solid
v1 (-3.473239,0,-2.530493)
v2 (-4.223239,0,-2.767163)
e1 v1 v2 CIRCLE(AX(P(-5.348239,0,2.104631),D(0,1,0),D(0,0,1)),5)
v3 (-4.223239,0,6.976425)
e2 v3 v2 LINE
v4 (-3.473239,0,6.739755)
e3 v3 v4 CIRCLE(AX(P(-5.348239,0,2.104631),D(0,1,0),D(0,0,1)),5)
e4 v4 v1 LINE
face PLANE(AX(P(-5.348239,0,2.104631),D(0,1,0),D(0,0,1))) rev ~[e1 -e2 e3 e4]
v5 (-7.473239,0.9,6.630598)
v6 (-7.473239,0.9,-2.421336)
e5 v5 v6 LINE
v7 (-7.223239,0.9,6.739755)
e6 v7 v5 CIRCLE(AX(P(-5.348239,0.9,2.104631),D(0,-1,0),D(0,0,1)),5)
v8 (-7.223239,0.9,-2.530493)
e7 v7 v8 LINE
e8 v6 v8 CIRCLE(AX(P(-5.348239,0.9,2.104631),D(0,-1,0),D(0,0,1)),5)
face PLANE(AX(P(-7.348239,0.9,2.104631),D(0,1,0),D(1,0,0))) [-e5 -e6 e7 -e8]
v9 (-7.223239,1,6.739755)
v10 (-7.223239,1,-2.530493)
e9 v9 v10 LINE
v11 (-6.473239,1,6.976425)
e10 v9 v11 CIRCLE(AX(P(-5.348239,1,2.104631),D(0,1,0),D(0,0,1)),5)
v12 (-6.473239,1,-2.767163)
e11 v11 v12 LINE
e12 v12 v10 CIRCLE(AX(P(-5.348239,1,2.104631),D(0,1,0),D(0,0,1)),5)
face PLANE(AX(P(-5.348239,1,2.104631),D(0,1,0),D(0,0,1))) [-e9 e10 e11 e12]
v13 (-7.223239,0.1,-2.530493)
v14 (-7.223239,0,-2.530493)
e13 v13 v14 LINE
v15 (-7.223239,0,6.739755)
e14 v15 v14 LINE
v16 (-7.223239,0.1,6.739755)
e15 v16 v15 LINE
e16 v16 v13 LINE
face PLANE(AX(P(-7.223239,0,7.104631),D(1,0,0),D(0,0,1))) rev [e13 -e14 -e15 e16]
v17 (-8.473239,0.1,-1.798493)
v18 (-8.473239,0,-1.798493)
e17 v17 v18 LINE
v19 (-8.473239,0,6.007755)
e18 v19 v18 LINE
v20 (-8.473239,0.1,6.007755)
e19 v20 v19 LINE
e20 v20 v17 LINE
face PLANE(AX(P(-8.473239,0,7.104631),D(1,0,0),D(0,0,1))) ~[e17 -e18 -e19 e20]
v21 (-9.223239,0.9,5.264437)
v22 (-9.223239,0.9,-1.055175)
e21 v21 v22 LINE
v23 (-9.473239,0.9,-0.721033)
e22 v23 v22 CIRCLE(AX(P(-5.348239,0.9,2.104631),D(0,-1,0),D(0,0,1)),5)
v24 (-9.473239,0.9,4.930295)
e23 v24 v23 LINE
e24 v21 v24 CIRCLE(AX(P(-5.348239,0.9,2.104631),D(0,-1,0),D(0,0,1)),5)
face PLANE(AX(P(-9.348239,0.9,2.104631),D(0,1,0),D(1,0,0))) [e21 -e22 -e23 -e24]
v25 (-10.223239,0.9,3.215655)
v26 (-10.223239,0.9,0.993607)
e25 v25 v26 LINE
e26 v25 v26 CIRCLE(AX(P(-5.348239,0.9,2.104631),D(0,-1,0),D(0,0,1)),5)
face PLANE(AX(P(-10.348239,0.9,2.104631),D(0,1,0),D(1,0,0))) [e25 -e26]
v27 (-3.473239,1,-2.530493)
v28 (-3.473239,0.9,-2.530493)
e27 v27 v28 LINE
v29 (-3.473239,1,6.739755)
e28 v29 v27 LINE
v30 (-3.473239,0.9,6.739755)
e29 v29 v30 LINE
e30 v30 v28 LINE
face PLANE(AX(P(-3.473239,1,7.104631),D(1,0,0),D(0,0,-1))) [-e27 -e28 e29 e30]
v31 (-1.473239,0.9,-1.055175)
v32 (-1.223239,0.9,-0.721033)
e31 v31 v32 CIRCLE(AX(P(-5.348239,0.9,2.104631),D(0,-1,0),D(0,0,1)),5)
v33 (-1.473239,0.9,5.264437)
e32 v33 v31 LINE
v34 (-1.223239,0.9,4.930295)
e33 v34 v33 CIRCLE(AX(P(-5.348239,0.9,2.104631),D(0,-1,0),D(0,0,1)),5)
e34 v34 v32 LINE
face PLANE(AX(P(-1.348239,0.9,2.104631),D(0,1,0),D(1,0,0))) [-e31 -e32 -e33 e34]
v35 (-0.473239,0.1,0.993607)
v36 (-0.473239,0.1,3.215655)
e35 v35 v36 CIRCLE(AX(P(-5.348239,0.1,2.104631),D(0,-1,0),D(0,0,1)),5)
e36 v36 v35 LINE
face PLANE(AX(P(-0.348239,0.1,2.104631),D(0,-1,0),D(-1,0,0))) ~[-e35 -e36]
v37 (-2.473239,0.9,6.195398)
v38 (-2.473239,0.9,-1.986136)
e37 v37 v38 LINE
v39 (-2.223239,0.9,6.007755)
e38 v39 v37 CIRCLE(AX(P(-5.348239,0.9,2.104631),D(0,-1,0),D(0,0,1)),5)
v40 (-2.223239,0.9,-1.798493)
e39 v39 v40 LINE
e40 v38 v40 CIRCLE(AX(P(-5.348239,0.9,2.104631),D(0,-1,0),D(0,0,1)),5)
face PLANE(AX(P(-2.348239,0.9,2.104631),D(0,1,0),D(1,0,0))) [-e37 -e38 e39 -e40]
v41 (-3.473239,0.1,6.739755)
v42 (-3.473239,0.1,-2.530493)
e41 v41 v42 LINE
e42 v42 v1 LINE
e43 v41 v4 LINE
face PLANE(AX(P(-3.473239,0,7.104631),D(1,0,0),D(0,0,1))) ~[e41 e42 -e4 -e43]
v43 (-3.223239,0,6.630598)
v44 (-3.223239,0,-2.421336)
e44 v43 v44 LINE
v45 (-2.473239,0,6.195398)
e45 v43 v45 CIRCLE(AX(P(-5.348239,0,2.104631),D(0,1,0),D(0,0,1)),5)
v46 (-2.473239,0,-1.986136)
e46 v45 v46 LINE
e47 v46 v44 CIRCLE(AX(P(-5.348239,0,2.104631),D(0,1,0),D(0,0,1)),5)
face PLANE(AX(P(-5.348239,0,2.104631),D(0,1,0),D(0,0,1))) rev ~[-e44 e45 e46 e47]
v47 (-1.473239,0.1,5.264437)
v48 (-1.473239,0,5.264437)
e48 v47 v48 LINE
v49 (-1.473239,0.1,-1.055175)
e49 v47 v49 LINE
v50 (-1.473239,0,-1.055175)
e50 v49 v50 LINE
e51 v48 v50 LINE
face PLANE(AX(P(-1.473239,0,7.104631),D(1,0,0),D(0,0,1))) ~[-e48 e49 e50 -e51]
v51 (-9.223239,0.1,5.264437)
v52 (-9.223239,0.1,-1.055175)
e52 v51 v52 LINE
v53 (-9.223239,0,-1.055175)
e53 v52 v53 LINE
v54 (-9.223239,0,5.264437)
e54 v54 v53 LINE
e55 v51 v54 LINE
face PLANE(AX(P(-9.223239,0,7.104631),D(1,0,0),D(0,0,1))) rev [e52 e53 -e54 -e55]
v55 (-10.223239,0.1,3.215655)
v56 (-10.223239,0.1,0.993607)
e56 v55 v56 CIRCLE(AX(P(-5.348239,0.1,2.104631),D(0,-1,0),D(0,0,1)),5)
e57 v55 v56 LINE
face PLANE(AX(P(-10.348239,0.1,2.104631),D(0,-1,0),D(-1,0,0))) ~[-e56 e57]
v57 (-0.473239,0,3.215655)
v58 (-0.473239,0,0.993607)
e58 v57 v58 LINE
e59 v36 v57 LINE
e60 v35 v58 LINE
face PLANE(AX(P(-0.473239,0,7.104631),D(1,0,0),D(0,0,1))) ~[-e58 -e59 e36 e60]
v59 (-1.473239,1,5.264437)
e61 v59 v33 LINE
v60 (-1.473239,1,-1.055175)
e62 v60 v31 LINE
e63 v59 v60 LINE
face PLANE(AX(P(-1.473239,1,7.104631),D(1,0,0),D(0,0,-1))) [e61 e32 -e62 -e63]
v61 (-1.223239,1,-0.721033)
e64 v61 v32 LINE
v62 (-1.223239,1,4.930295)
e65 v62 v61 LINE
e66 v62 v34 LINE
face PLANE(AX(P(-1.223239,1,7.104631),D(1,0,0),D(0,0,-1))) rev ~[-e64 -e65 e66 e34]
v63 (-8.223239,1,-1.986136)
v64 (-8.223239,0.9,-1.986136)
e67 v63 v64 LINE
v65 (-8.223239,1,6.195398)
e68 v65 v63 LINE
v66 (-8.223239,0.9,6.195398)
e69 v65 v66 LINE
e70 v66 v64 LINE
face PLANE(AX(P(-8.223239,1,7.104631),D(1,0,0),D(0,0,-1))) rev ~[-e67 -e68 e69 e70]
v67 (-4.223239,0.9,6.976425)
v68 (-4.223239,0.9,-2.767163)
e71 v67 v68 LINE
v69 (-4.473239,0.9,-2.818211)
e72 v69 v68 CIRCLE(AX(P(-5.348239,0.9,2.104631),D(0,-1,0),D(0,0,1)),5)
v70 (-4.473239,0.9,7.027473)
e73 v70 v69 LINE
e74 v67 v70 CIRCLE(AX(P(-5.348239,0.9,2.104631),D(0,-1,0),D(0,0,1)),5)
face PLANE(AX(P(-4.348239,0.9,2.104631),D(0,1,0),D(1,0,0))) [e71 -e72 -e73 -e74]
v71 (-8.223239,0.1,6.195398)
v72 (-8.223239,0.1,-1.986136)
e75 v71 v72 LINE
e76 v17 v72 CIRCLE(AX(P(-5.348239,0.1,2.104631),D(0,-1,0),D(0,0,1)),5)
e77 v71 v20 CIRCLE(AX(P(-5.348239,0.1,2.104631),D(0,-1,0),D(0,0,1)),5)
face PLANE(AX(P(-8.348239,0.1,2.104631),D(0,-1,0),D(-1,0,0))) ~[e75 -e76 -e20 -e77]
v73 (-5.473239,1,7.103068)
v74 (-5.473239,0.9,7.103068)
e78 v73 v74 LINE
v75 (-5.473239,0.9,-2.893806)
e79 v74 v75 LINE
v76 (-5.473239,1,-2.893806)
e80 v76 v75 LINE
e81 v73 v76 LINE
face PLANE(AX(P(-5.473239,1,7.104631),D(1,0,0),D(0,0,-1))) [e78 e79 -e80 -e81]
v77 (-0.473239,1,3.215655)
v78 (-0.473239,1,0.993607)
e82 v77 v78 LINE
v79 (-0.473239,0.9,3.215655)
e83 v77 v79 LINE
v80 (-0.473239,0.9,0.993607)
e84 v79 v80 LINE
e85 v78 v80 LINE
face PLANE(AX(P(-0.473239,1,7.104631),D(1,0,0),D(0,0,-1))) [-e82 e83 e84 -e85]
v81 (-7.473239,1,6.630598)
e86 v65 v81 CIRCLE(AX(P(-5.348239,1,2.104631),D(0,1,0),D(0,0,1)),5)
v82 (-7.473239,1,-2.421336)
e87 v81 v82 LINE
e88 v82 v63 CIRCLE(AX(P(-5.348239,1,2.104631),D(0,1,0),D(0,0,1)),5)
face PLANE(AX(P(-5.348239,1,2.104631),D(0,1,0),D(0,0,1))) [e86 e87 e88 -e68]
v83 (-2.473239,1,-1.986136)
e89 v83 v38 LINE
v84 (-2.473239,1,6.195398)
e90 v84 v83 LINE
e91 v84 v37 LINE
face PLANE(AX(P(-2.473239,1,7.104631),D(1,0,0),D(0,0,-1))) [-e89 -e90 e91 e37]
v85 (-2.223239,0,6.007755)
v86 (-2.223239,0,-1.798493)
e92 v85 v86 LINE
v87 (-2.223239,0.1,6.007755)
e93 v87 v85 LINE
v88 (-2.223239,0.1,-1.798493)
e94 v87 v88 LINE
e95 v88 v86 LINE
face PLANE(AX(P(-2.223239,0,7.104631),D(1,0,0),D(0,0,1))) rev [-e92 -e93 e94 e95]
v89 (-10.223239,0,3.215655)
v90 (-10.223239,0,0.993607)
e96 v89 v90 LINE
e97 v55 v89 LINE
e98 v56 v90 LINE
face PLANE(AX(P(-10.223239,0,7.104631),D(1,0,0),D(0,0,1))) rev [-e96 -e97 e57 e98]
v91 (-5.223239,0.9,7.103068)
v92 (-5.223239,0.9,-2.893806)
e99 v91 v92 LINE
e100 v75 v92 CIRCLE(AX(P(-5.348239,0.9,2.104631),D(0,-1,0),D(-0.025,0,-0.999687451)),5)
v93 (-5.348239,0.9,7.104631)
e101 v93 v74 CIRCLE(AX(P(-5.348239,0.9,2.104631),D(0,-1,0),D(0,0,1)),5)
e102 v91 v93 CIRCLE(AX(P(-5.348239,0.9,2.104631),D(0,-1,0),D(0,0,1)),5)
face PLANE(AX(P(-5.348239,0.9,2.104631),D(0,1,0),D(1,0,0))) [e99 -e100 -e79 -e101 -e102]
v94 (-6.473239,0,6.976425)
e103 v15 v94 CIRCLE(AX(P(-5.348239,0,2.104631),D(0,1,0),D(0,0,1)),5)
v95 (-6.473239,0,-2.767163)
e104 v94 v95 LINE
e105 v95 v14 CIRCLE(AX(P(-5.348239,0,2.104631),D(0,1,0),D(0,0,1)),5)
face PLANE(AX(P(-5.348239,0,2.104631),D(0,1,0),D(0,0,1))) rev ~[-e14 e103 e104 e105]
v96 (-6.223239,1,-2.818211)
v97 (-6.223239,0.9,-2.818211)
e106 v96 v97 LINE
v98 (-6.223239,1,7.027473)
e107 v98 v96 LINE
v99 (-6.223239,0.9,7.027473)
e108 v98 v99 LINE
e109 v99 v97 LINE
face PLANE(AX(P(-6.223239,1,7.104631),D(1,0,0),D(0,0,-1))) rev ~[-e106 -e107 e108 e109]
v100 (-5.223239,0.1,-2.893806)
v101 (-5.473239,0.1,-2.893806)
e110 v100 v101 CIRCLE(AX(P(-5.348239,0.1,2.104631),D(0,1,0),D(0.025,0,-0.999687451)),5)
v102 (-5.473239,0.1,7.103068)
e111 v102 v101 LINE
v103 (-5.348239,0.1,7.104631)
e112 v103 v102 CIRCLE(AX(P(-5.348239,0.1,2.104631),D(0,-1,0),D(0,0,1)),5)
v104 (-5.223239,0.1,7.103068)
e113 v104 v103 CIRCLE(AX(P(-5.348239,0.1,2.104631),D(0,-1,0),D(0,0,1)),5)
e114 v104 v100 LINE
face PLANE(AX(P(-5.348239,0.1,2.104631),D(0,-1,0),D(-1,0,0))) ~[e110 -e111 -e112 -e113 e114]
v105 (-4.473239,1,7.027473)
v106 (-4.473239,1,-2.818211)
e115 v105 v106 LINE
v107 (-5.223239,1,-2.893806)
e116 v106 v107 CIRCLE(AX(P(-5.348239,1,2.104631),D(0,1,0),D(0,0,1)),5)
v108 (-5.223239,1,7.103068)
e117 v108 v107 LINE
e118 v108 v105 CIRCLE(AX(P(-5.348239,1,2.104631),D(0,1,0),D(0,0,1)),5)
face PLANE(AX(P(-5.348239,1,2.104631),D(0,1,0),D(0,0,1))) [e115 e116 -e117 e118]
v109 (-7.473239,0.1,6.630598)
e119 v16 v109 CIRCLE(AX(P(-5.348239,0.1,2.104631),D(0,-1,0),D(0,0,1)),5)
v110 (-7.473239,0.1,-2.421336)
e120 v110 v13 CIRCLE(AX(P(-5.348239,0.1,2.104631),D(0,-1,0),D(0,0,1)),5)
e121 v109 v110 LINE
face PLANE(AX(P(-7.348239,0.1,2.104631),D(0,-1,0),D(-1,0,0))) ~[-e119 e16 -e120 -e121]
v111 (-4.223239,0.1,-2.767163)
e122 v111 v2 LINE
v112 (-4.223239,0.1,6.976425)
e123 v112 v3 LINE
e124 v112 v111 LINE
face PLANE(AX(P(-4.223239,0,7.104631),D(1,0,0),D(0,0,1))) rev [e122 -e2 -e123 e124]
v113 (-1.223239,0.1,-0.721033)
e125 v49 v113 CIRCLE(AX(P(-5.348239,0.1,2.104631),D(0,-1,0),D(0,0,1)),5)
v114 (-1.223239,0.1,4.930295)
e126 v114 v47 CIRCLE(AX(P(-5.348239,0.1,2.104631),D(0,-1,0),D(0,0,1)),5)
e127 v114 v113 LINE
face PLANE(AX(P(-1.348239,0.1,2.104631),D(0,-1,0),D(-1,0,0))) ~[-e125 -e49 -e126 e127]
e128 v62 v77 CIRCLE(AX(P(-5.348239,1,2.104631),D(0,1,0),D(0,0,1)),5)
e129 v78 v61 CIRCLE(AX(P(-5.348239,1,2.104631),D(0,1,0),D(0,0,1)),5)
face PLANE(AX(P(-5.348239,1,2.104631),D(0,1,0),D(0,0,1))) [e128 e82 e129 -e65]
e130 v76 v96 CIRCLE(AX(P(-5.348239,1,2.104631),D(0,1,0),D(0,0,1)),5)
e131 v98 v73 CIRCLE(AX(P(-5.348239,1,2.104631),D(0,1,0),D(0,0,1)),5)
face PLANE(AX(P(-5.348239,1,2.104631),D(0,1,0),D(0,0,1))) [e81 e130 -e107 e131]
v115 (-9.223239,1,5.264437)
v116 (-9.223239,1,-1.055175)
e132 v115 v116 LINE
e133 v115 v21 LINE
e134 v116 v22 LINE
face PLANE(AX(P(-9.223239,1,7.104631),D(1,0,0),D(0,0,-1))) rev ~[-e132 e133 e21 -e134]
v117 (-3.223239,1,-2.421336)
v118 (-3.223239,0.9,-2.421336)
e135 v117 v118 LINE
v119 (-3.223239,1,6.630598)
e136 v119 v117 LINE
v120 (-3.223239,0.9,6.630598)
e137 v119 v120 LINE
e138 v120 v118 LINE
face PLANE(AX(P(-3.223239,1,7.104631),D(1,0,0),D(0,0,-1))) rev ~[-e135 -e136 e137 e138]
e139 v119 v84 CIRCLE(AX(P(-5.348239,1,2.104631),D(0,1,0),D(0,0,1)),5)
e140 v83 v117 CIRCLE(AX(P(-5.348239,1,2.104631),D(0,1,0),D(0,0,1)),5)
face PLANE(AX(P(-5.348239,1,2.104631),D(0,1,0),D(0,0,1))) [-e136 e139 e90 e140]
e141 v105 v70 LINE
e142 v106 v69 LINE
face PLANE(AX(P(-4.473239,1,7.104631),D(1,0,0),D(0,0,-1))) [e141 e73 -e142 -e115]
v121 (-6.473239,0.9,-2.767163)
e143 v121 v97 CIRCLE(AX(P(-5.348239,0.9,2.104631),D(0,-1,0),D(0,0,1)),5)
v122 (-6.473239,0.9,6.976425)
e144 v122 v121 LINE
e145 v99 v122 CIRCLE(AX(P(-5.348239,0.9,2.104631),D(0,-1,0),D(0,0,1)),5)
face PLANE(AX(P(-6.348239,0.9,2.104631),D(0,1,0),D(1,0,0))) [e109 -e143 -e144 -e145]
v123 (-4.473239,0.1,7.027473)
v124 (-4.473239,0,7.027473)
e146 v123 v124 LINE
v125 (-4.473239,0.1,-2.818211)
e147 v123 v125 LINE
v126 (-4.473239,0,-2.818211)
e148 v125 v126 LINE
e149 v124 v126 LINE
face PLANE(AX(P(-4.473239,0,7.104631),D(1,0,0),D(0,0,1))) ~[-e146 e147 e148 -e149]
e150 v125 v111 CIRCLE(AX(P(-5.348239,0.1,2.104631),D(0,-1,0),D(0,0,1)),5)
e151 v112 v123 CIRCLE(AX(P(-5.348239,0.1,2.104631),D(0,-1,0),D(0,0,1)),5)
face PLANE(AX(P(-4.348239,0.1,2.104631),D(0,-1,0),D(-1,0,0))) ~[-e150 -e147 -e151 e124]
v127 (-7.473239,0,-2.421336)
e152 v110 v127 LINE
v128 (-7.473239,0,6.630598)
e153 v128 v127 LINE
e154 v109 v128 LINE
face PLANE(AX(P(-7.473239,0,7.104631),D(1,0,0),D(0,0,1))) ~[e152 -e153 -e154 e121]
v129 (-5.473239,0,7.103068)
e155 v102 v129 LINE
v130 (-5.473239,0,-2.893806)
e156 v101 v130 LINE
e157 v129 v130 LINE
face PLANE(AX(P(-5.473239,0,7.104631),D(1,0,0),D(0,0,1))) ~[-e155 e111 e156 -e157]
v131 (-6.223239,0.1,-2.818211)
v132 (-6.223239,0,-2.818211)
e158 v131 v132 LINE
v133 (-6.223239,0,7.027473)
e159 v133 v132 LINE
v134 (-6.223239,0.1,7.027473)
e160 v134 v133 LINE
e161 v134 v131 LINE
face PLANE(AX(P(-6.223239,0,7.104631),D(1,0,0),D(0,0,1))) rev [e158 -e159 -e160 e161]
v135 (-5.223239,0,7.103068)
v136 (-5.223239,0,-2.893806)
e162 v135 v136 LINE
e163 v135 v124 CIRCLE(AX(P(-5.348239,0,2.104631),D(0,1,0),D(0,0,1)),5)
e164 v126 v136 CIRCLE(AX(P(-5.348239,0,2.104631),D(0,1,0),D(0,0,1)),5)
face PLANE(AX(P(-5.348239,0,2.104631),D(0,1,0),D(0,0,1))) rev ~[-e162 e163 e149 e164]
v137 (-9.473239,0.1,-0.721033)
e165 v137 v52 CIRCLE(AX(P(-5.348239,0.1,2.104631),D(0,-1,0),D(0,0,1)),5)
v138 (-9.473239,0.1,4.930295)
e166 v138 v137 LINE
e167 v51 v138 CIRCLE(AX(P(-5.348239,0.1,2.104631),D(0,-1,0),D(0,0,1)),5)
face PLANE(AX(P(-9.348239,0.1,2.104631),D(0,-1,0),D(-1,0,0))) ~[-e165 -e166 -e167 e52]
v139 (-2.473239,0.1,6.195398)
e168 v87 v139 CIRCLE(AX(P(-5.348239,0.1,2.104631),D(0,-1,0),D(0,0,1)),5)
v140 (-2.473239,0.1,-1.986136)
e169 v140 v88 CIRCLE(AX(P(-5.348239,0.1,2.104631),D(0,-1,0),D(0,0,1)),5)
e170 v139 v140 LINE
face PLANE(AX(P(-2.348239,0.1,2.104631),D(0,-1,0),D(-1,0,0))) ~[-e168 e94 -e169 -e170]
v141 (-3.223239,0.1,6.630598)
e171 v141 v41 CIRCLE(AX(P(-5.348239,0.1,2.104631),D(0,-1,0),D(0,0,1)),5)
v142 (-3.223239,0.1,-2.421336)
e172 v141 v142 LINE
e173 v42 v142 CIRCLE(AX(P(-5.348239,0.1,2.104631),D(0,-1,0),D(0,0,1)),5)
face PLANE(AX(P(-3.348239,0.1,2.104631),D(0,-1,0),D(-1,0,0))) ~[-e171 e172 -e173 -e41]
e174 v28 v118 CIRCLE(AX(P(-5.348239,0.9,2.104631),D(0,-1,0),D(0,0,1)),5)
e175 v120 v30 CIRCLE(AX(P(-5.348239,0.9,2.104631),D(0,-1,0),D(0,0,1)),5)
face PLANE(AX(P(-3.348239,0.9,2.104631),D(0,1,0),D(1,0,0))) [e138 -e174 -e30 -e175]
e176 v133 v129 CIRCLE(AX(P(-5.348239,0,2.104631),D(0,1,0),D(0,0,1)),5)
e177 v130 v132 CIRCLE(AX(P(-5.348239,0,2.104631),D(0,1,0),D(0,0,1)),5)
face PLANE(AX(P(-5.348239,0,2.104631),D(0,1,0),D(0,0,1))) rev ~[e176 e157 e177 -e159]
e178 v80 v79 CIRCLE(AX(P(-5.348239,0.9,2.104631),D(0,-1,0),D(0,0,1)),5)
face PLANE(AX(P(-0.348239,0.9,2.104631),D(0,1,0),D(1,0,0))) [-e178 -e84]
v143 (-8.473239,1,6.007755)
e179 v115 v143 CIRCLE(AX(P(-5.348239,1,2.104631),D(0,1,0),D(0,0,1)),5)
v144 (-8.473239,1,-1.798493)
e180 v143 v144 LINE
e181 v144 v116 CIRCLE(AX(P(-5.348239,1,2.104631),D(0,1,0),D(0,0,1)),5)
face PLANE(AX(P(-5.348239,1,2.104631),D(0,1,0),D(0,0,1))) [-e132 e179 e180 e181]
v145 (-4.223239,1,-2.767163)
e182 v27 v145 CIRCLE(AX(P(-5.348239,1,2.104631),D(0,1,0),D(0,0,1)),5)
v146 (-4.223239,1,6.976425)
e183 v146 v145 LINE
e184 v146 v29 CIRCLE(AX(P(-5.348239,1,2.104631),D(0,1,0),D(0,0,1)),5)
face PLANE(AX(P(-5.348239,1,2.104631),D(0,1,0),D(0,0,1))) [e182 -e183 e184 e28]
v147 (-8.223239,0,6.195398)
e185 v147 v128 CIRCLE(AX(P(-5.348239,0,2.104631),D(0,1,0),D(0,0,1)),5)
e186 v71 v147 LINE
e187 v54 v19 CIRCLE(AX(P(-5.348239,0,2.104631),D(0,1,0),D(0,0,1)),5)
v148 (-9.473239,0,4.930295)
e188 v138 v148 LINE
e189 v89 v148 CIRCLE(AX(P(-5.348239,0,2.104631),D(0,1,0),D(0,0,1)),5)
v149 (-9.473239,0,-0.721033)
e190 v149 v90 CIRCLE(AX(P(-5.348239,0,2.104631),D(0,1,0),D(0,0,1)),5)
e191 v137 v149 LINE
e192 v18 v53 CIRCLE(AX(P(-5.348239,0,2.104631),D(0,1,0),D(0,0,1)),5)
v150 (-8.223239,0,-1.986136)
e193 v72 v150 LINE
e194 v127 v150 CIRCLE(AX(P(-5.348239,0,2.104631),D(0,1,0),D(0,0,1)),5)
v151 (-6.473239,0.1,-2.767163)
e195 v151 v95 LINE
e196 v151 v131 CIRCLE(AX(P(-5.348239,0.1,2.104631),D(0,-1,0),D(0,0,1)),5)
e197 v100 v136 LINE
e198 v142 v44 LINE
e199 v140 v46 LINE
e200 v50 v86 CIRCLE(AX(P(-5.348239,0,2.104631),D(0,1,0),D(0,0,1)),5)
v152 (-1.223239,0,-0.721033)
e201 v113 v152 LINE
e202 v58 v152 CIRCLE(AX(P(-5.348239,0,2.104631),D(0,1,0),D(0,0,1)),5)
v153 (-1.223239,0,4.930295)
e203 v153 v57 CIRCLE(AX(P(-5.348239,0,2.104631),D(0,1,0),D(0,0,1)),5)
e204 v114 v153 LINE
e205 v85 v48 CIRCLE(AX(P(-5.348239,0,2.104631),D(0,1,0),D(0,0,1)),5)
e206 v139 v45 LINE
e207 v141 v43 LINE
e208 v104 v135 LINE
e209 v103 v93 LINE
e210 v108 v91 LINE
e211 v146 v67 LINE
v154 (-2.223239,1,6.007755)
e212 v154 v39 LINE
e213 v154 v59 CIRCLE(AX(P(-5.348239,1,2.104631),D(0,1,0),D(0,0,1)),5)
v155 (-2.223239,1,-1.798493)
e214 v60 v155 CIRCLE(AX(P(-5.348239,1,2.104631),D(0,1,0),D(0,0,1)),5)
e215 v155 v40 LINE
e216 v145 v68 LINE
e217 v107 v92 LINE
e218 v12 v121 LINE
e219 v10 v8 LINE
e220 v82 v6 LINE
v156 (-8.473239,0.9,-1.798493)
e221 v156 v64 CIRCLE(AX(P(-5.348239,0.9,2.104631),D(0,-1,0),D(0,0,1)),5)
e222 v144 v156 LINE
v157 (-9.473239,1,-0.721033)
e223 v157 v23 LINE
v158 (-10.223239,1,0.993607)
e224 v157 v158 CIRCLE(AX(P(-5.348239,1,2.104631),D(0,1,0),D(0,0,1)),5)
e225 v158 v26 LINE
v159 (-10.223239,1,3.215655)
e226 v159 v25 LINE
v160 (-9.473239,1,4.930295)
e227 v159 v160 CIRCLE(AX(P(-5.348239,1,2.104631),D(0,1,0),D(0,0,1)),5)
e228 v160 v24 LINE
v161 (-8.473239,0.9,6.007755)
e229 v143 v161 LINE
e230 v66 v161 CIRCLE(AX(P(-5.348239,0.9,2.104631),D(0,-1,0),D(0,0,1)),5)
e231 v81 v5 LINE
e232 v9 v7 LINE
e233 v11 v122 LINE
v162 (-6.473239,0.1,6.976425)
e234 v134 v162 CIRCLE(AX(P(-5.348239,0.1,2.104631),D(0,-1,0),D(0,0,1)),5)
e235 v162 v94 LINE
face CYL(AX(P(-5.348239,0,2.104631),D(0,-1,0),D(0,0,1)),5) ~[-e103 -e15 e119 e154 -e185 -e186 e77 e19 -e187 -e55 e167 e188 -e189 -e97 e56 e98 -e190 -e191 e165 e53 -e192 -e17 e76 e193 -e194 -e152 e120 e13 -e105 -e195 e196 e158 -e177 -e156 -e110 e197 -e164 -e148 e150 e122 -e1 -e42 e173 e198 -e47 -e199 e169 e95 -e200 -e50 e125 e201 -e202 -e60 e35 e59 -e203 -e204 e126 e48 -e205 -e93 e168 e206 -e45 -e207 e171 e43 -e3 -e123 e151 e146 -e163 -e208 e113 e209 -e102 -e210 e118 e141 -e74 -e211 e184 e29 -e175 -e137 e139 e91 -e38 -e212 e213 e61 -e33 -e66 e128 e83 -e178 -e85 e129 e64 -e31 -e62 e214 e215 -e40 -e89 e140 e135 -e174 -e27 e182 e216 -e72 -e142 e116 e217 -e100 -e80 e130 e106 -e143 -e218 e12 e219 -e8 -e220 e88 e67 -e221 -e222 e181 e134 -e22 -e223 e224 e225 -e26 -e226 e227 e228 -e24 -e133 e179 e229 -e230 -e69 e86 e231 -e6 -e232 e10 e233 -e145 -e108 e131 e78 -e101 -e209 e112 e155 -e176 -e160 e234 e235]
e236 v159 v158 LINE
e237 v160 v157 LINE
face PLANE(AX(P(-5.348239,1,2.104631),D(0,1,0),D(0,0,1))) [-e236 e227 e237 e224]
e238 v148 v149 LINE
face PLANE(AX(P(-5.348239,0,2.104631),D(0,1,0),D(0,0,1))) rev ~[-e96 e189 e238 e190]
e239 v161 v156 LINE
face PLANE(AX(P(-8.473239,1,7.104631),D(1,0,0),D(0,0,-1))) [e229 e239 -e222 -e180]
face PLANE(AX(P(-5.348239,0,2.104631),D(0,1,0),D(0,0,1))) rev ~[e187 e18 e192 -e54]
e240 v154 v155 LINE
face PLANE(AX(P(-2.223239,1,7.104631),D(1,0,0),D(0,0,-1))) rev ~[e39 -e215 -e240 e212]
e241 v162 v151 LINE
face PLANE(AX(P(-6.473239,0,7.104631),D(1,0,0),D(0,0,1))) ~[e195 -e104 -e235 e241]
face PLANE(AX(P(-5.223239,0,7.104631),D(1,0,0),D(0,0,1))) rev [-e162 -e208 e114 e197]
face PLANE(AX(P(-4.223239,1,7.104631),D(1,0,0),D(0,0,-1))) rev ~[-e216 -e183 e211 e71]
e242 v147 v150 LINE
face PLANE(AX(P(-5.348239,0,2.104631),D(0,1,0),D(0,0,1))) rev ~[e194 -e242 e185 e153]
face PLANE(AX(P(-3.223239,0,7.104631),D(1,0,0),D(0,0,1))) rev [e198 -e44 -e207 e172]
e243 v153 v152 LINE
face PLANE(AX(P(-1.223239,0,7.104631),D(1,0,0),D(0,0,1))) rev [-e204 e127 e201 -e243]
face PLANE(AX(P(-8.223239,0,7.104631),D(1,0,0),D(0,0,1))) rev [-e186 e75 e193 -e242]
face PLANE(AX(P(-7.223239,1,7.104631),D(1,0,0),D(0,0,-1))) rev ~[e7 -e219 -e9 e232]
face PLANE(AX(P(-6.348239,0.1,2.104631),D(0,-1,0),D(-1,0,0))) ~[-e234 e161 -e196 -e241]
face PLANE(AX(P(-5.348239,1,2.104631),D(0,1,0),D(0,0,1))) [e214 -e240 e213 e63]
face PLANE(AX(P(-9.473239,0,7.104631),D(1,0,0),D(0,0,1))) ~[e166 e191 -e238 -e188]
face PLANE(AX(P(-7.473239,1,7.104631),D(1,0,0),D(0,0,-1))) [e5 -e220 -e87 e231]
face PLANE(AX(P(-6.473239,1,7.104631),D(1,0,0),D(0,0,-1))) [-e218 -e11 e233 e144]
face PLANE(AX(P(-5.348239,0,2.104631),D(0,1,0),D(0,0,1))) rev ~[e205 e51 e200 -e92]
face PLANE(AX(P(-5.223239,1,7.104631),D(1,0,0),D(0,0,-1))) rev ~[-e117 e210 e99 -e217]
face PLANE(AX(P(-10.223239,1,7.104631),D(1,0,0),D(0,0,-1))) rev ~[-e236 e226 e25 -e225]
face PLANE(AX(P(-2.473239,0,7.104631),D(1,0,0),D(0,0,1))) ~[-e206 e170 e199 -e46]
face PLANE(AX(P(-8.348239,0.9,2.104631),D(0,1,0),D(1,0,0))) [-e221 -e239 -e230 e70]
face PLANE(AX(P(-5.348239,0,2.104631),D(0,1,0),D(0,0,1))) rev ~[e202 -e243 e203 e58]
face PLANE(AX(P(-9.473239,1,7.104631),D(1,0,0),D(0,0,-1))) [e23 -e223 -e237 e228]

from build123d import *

# Parameters (mm, degrees)
SKETCH1_R           = 5
BOSS_EXTRUDE1_DEPTH = 1
SKETCH2_W           = 0.25
SKETCH2_H           = 10
CUT_EXTRUDE1_DEPTH  = 0.1


with BuildPart() as part:
    # Sketch1 → Boss-Extrude1 (new body)
    with BuildSketch(Plane(origin=(0, 0, 0), x_dir=(1, 0, 0), z_dir=(0, 1, 0))):
        with Locations(Location((-5.348238854, -2.10463103, 0), (0, 0, 270))):
            Circle(SKETCH1_R)
    extrude(amount=BOSS_EXTRUDE1_DEPTH)

    # Sketch2 → Cut-Extrude1 (cut)
    with BuildSketch(Plane(origin=(0, 1, 0), x_dir=(1, 0, 0), z_dir=(0, 1, 0))):
        with Locations((-10.348238854, -2.10463103)):
            Rectangle(SKETCH2_W, SKETCH2_H)
        with Locations((-11.348238854, -2.10463103)):
            Rectangle(SKETCH2_W, SKETCH2_H)
        with Locations((-9.348238854, -2.10463103)):
            Rectangle(SKETCH2_W, SKETCH2_H)
        with Locations((-8.348238854, -2.10463103)):
            Rectangle(SKETCH2_W, SKETCH2_H)
        with Locations((-7.348238854, -2.10463103)):
            Rectangle(SKETCH2_W, SKETCH2_H)
        with Locations((-6.348238854, -2.10463103)):
            Rectangle(SKETCH2_W, SKETCH2_H)
        with Locations((-5.348238854, -2.10463103)):
            Rectangle(SKETCH2_W, SKETCH2_H)
        with Locations((-4.348238854, -2.10463103)):
            Rectangle(SKETCH2_W, SKETCH2_H)
        with Locations((-3.348238854, -2.10463103)):
            Rectangle(SKETCH2_W, SKETCH2_H)
        with Locations((-2.348238854, -2.10463103)):
            Rectangle(SKETCH2_W, SKETCH2_H)
        with Locations((-1.348238854, -2.10463103)):
            Rectangle(SKETCH2_W, SKETCH2_H)
        with Locations((-0.348238854, -2.10463103)):
            Rectangle(SKETCH2_W, SKETCH2_H)
        with Locations((0.651761146, -2.10463103)):
            Rectangle(SKETCH2_W, SKETCH2_H)
        with Locations((1.651761146, -2.10463103)):
            Rectangle(SKETCH2_W, SKETCH2_H)
        with Locations((2.651761146, -2.10463103)):
            Rectangle(SKETCH2_W, SKETCH2_H)
    cut_extrude1 = extrude(amount=-CUT_EXTRUDE1_DEPTH, mode=Mode.SUBTRACT)

    # Mirror1: Cut-Extrude1 across plane
    add(cut_extrude1.mirror(Plane(origin=(0, 0.5, 0), x_dir=(0, 0, 1), z_dir=(0, -1, 0))), mode=Mode.SUBTRACT)


solid = part.part
